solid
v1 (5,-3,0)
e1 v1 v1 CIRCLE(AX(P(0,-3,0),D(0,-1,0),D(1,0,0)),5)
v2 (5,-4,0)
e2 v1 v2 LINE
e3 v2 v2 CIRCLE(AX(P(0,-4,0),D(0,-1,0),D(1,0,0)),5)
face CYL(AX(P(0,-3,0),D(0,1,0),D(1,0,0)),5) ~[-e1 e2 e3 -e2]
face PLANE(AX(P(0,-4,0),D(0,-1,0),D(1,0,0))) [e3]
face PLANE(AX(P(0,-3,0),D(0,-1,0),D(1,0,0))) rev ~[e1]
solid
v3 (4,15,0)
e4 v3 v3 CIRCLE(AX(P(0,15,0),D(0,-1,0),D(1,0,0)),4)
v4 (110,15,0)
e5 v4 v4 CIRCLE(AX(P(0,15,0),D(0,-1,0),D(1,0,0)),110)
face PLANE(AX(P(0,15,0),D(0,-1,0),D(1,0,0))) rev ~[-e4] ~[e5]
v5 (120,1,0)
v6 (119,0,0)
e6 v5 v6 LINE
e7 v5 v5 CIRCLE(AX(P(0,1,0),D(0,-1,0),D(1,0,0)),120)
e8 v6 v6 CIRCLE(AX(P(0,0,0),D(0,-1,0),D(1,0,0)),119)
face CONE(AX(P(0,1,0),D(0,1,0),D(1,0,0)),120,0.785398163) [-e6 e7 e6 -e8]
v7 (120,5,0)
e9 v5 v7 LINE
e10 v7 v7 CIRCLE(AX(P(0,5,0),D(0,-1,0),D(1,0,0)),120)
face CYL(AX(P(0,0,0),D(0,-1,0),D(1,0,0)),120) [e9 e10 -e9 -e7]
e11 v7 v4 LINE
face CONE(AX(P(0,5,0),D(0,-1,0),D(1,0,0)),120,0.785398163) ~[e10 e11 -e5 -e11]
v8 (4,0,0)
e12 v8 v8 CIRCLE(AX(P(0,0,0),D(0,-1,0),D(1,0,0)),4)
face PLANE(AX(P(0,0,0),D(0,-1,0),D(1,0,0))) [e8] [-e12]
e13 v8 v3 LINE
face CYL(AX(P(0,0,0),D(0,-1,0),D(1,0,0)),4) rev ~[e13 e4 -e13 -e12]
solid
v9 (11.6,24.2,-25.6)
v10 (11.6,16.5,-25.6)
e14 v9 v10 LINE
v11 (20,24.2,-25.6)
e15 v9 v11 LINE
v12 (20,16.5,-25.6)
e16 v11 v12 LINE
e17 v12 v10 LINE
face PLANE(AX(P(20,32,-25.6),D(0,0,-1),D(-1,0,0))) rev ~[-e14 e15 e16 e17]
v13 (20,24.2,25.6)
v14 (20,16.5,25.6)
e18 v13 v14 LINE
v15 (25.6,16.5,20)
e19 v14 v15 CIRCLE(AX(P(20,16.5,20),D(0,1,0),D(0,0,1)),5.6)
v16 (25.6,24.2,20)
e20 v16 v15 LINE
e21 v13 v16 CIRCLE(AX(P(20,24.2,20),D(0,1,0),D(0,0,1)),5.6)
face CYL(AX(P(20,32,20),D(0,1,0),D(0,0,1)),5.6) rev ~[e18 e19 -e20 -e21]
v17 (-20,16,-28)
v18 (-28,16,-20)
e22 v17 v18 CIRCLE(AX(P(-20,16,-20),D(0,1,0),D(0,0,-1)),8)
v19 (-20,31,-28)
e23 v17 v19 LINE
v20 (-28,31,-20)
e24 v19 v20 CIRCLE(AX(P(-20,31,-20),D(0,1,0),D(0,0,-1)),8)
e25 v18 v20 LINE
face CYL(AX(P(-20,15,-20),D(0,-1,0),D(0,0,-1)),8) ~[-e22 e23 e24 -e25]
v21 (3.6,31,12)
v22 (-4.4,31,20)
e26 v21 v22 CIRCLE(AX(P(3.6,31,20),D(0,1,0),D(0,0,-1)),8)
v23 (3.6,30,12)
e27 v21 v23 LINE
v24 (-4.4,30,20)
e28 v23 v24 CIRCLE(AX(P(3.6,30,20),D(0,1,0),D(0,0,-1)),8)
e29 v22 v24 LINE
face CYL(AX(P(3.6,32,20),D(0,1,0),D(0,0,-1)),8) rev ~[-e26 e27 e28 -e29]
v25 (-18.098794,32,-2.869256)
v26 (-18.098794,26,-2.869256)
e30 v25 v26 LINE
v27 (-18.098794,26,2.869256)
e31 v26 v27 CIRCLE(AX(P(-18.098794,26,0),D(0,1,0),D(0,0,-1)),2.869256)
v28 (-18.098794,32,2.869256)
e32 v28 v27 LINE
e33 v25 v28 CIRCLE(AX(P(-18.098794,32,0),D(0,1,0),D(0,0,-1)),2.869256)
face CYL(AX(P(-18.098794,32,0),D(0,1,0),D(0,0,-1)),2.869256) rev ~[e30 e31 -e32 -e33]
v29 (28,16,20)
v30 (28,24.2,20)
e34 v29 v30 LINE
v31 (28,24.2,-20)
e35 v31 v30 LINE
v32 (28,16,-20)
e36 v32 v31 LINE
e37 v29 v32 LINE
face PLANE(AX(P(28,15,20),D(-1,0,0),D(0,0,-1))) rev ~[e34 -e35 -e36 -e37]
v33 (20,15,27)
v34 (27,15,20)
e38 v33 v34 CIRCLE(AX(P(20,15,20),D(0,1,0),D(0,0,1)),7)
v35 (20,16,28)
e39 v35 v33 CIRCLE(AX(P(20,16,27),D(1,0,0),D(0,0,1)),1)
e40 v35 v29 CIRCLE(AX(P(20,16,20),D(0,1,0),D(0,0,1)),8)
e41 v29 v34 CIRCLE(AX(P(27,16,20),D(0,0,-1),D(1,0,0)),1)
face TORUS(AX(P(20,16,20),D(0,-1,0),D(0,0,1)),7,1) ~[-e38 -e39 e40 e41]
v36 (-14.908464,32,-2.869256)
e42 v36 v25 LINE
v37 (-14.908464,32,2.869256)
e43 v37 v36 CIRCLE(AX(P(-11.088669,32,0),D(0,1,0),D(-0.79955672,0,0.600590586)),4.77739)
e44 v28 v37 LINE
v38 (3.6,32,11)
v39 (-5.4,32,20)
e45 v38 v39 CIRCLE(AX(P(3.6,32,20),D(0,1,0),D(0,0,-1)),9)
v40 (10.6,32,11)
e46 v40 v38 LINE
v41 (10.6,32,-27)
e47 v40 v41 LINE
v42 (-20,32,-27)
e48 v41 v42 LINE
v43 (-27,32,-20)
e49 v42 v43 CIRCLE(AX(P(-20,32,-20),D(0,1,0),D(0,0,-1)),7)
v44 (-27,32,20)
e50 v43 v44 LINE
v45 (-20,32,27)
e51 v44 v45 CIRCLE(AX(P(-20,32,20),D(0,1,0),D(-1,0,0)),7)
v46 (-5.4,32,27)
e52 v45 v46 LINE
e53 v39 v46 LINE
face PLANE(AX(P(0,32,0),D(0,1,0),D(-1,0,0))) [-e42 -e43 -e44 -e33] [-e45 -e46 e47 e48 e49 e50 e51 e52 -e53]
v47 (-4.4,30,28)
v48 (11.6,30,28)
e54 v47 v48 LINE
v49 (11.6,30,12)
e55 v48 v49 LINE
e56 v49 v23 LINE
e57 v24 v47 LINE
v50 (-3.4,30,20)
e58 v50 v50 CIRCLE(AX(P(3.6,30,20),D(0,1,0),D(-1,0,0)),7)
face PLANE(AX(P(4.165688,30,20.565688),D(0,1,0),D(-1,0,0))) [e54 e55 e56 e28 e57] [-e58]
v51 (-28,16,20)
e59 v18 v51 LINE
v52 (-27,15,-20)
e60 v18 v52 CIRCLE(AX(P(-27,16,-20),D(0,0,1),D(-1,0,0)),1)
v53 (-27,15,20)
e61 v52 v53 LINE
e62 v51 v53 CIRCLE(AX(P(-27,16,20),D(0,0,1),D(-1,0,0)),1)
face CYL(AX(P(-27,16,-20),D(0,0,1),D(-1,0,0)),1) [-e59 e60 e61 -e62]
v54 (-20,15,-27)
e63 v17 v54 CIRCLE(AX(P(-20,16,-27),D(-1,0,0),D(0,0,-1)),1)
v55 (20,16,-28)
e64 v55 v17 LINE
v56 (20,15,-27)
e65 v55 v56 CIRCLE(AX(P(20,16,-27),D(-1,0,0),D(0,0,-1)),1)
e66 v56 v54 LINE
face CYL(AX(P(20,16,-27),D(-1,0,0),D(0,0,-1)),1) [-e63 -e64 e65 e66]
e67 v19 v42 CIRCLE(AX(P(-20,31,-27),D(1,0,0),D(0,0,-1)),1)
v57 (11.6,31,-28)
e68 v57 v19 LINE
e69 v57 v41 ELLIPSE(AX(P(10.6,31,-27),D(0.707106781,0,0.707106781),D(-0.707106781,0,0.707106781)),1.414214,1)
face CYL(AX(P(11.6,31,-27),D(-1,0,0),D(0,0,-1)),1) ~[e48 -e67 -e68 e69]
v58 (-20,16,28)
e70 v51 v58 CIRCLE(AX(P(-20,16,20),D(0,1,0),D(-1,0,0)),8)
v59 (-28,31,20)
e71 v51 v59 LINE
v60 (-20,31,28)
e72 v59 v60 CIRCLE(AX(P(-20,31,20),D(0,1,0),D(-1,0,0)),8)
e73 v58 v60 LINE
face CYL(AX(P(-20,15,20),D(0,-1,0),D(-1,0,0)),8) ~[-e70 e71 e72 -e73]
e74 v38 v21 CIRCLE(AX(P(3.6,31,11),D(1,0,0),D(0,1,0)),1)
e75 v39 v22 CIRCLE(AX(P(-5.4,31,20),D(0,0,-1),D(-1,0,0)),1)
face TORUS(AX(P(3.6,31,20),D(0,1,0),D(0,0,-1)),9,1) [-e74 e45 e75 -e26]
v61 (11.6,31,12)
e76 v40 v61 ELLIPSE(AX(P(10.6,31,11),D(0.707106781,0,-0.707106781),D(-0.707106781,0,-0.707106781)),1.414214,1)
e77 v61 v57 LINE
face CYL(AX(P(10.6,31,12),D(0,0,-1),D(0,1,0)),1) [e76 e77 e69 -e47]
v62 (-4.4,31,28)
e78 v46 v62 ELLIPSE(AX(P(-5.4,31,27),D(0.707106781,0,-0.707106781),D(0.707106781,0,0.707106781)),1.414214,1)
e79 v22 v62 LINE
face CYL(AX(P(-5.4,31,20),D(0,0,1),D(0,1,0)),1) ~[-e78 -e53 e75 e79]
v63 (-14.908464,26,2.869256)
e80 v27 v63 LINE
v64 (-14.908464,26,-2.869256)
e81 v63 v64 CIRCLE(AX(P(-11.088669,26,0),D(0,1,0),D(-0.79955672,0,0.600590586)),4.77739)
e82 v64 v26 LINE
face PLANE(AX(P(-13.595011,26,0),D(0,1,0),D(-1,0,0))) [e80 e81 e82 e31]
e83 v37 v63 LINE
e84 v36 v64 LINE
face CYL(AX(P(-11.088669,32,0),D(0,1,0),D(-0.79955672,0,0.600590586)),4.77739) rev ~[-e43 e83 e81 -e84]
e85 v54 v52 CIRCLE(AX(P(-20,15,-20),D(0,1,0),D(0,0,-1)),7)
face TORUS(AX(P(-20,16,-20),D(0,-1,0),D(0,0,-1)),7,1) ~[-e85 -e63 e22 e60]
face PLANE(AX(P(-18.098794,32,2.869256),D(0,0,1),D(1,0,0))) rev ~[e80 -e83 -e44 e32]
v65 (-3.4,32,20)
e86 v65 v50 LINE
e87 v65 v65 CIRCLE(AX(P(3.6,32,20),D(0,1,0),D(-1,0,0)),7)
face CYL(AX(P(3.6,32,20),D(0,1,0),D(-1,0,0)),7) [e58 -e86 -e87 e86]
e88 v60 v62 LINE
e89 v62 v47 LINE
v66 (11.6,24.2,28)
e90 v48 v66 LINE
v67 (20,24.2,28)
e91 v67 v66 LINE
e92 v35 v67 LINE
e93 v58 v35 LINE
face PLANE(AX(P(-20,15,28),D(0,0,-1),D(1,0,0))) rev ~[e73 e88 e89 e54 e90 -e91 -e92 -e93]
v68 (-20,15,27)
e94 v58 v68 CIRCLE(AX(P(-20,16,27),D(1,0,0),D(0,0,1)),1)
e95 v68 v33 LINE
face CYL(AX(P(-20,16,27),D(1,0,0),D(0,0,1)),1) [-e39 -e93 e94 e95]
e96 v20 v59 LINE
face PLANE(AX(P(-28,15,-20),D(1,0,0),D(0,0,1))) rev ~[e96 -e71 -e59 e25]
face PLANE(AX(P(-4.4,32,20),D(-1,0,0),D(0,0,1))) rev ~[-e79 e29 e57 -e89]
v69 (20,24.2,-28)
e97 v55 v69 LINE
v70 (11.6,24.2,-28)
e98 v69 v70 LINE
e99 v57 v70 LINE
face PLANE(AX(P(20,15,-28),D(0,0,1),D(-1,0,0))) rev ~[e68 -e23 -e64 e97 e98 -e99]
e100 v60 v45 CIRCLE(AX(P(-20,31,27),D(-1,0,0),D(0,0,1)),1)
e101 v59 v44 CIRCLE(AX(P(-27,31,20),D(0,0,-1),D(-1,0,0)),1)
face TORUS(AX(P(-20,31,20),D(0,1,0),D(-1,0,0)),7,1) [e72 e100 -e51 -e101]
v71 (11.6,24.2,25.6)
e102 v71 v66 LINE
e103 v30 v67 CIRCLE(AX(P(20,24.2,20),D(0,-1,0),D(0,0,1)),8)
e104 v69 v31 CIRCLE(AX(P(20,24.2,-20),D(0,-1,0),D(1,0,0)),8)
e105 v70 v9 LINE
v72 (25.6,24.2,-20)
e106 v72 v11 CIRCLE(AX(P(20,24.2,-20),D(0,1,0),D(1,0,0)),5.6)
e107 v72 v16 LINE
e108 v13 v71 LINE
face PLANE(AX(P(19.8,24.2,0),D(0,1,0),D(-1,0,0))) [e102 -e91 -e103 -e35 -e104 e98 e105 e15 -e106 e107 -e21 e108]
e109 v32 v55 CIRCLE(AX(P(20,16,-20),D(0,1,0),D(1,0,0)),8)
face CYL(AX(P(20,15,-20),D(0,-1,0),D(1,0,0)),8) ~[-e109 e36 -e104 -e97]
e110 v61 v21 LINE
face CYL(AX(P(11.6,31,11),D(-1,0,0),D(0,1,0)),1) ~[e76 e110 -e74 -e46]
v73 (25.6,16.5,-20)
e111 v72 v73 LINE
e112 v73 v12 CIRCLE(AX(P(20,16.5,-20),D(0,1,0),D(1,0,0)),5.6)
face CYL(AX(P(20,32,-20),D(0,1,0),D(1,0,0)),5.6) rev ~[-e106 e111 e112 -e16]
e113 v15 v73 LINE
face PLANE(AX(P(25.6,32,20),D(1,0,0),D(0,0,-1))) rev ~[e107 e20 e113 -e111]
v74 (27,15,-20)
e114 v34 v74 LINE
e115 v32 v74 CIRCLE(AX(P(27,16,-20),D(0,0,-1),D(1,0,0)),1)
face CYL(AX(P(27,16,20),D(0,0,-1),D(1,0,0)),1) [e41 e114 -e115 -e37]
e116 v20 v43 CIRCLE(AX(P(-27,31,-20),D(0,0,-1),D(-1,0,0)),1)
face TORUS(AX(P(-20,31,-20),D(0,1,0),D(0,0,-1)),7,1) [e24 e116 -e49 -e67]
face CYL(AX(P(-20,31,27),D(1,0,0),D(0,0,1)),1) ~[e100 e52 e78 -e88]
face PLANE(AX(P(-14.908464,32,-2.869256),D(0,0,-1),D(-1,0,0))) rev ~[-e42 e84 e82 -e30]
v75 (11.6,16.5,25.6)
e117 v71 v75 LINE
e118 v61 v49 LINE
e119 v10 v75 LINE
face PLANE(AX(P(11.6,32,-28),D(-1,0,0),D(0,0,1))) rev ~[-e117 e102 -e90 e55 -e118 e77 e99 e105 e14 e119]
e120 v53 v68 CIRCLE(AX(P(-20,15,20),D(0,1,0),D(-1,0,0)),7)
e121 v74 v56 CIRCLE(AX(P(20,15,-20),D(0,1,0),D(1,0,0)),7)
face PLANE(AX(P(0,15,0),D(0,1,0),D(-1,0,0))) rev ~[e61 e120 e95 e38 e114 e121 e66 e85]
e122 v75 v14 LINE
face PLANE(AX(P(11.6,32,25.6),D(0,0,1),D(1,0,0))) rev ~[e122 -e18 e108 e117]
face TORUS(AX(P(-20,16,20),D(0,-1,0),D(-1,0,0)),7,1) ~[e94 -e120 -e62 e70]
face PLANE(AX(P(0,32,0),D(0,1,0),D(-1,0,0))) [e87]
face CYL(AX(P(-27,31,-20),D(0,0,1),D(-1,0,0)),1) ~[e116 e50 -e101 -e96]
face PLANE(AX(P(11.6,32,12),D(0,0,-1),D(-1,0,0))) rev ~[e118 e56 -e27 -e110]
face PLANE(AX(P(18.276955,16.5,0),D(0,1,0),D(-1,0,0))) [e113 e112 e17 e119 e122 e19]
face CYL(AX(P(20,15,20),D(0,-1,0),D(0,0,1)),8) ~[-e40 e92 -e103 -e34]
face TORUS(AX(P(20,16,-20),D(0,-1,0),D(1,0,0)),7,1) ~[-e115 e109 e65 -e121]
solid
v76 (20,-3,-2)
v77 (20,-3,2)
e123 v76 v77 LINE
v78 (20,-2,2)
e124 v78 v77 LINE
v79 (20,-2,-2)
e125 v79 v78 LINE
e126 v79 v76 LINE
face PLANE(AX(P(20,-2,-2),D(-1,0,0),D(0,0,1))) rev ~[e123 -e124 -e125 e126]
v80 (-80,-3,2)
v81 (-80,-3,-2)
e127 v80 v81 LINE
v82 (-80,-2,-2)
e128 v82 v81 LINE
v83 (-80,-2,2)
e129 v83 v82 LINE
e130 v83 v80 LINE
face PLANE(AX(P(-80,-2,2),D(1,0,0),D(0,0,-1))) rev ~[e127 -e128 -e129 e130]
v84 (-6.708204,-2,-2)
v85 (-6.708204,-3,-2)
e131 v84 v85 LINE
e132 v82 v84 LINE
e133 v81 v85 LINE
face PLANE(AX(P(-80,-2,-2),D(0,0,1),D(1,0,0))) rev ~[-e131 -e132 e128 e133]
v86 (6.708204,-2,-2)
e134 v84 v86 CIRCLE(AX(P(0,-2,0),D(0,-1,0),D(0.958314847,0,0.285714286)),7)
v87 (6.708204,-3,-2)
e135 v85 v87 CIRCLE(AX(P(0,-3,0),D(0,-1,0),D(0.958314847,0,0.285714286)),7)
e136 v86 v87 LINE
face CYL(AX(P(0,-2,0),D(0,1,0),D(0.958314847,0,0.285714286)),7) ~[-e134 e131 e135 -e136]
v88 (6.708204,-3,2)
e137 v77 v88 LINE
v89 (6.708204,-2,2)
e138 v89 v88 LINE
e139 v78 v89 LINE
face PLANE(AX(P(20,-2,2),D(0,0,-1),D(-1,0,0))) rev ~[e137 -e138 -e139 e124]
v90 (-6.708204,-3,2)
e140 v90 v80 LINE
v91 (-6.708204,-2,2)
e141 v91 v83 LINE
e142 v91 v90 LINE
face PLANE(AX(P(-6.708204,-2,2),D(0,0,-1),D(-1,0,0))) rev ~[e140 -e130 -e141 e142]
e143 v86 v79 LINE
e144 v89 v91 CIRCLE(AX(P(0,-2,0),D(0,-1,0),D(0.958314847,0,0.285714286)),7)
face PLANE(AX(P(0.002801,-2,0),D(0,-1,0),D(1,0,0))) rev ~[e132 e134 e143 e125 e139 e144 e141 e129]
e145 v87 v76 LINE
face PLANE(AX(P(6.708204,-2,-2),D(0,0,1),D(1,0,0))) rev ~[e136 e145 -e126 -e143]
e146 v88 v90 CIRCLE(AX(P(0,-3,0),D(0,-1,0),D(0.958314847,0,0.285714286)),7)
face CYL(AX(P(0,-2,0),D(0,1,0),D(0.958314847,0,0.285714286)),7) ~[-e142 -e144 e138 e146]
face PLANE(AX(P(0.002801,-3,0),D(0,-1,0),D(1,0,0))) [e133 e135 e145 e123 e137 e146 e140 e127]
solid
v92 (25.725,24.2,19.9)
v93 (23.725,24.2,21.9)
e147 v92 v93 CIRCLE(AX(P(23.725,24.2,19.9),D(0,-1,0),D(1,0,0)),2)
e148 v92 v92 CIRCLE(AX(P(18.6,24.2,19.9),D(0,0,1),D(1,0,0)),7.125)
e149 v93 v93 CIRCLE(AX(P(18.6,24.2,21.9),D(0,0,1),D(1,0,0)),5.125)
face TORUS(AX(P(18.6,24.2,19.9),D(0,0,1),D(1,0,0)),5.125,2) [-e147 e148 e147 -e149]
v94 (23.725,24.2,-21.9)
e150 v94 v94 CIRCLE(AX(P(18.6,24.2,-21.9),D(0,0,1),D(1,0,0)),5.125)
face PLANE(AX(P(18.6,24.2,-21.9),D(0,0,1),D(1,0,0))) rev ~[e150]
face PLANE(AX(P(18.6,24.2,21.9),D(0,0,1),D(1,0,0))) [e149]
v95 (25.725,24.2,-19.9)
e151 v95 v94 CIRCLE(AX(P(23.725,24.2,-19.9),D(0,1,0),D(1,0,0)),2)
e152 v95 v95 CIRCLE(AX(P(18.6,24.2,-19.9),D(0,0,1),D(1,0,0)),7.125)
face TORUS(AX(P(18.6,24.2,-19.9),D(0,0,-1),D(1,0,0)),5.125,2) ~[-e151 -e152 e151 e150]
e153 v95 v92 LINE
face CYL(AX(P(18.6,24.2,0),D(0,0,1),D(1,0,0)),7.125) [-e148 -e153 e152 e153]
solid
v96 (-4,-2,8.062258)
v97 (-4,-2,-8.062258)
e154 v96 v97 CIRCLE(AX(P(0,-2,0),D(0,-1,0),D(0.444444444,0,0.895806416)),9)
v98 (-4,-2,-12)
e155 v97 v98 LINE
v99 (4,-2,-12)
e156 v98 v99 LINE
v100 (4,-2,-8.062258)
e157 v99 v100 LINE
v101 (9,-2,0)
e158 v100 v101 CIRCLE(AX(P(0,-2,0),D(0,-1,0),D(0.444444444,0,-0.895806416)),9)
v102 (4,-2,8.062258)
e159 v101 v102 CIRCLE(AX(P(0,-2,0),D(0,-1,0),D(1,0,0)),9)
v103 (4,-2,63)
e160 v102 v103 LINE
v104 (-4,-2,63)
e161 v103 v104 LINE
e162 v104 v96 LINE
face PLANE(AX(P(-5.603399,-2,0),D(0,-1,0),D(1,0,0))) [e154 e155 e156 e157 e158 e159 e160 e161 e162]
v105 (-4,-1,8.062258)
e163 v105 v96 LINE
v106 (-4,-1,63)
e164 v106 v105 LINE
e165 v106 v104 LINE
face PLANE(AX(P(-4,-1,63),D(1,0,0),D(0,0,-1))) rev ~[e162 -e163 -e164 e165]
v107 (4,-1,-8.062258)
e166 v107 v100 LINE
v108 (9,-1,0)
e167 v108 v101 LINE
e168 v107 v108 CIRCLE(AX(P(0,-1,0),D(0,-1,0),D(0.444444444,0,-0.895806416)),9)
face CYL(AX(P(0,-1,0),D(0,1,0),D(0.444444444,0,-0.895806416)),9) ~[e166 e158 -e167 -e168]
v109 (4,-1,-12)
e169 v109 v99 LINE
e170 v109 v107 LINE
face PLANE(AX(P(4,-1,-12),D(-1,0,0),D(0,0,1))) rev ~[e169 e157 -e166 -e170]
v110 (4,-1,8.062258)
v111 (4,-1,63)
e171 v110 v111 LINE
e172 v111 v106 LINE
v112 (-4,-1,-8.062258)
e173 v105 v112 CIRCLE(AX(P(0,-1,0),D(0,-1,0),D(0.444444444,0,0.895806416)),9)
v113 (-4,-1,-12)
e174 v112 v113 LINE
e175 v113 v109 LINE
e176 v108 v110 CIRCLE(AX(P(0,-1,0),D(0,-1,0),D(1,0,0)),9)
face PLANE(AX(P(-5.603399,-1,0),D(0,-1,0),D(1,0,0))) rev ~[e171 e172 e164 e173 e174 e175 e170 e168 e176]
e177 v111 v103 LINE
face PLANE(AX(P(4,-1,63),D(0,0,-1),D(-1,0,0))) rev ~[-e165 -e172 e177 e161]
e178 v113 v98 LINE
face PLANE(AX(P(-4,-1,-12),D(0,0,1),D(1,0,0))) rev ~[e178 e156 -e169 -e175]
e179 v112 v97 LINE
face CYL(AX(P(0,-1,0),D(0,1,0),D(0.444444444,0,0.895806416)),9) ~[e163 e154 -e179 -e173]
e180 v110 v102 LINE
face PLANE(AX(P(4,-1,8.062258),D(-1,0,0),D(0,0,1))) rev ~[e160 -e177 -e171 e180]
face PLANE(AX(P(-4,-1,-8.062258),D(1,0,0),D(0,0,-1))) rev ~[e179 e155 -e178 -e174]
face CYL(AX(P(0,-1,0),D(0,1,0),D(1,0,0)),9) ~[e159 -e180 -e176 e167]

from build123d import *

# Parameters (mm, degrees)
F0_R      = 120
F1_DEPTH  = 15
F2_R      = 2.5
F3_DEPTH  = 15
F5_DEPTH  = 17
F7_DEPTH  = 15.5
F8_W      = 16.4
F8_H      = 56
F9_DEPTH  = 7.8
F10_R     = 7
F11_DEPTH = 2
F12_R     = 1
F13_R     = 7.125
F14_DEPTH = 21.9
F15_R     = 2
F16_R     = 4
F17_DEPTH = 15
F19_START = 1
F19_DEPTH = 1
F21_DEPTH = 1
F22_R     = 5
F23_DEPTH = 1
F24_SIZE  = 1
F25_SIZE  = 10
F27_DEPTH = 6


with BuildPart() as f1:
    # F0 (on Front) → F1 (new body)
    with BuildSketch(Plane.XZ):
        Circle(F0_R)
    extrude(amount=-F1_DEPTH)

    # F2 (on face) → F3 (cut, through all)
    with BuildSketch(Plane(origin=(0, 15, 0), x_dir=(-1, 0, 0), z_dir=(0, 1, 0))):
        Circle(F2_R)
    extrude(amount=-F3_DEPTH, mode=Mode.SUBTRACT)

    # F16 (on face) → F17 (cut, through all)
    with BuildSketch(Plane.XZ):
        Circle(F16_R)
    extrude(amount=-F17_DEPTH, mode=Mode.SUBTRACT)

    # F24
    f24_edges = [f1.edges().sort_by_distance(p)[0] for p in [
        (-120, 0, 0),
    ]]
    chamfer(f24_edges, length=F24_SIZE)

    # F25
    f25_edges = [f1.edges().sort_by_distance(p)[0] for p in [
        (-120, 15, 0),
    ]]
    chamfer(f25_edges, length=F25_SIZE)


with BuildPart() as f5:
    # F4 (on face) → F5 (new body)
    with BuildSketch(Plane(origin=(0, 15, 0), x_dir=(-1, 0, 0), z_dir=(0, 1, 0))):
        with BuildLine():
            ThreePointArc((-28, -20), (-25.6568542495, -25.6568542495), (-20, -28))
            Line((-20, -28), (20, -28))
            ThreePointArc((20, -28), (25.6568542495, -25.6568542495), (28, -20))
            Line((28, -20), (28, 20))
            ThreePointArc((28, 20), (25.6568542495, 25.6568542495), (20, 28))
            Line((20, 28), (-20, 28))
            ThreePointArc((-20, 28), (-25.6568542495, 25.6568542495), (-28, 20))
            Line((-28, 20), (-28, -20))
        make_face()
    extrude(amount=F5_DEPTH)

    # F6 (on face) → F7 (cut)
    with BuildSketch(Plane(origin=(0, 32, 0), x_dir=(-1, 0, 0), z_dir=(0, 1, 0))):
        with BuildLine():
            Line((-25.6, 20), (-25.6, -20))
            ThreePointArc((-25.6, -20), (-23.9597979746, -23.9597979746), (-20, -25.6))
            Line((-20, -25.6), (-11.6, -25.6))
            Line((-11.6, -25.6), (-11.6, 25.6))
            Line((-11.6, 25.6), (-20, 25.6))
            ThreePointArc((-20, 25.6), (-23.9597979746, 23.9597979746), (-25.6, 20))
        make_face()
    extrude(amount=-F7_DEPTH, mode=Mode.SUBTRACT)

    # F8 (on face) → F9 (cut)
    with BuildSketch(Plane(origin=(0, 32, 0), x_dir=(-1, 0, 0), z_dir=(0, 1, 0))):
        with Locations((-19.8, 0)):
            Rectangle(F8_W, F8_H)
    extrude(amount=-F9_DEPTH, mode=Mode.SUBTRACT)

    # F10 (on face) → F11 (cut)
    with BuildSketch(Plane(origin=(0, 32, 0), x_dir=(-1, 0, 0), z_dir=(0, 1, 0))):
        with BuildLine():
            Line((-11.6, 28), (-11.6, 12))
            Line((-11.6, 12), (-3.6, 12))
            ThreePointArc((-3.6, 12), (2.0568542495, 14.3431457505), (4.4, 20))
            Line((4.4, 20), (4.4, 28))
            Line((4.4, 28), (-11.6, 28))
        make_face()
        with Locations((-3.6, 20)):
            Circle(F10_R, mode=Mode.SUBTRACT)
    extrude(amount=-F11_DEPTH, mode=Mode.SUBTRACT)

    # F12
    f12_edges = [f5.edges().sort_by_distance(p)[0] for p in [
        (7.6, 32, 12),
        (-2.056854, 32, 14.343146),
        (-4.4, 32, 24),
        (-12.2, 32, 28),
        (-25.656854, 32, 25.656854),
        (-28, 32, 0),
        (-25.656854, 32, -25.656854),
        (-4.2, 32, -28),
        (11.6, 32, -8),
        (25.656854, 15, -25.656854),
        (0, 15, -28),
        (-25.656854, 15, -25.656854),
        (-28, 15, 0),
        (-25.656854, 15, 25.656854),
        (0, 15, 28),
        (25.656854, 15, 25.656854),
        (28, 15, 0),
    ]]
    fillet(f12_edges, radius=F12_R)

    # F26 (on face) → F27 (cut)
    with BuildSketch(Plane(origin=(0, 32, 0), x_dir=(-1, 0, 0), z_dir=(0, 1, 0))):
        with BuildLine():
            Line((14.908463777, -2.8692556116), (18.0987944834, -2.8692556116))
            ThreePointArc((18.0987944834, -2.8692556116), (20.968050095, 0), (18.0987944834, 2.8692556116))
            Line((18.0987944834, 2.8692556116), (14.908463777, 2.8692556116))
            ThreePointArc((14.908463777, 2.8692556116), (6.3112790491, 0), (14.908463777, -2.8692556116))
        make_face()
    extrude(amount=-F27_DEPTH, mode=Mode.SUBTRACT)


with BuildPart() as f14:
    # F13 (on Top) → F14 (new body, symmetric)
    with BuildSketch(Plane.XY):
        with Locations((18.6, 24.2)):
            Circle(F13_R)
    extrude(amount=F14_DEPTH, both=True)

    # F15
    f15_edges = [f14.edges().sort_by_distance(p)[0] for p in [
        (11.475, 24.2, -21.9),
        (11.475, 24.2, 21.9),
    ]]
    fillet(f15_edges, radius=F15_R)


with BuildPart() as f19:
    # F18 (on face) → F19 (new body)
    with BuildSketch(Plane.XZ.offset(F19_START)):
        with BuildLine():
            Line((-4, -8.0622577483), (-4, -8))
            Line((-4, -8), (-4, 8.0622577483))
            ThreePointArc((-4, 8.0622577483), (-9, 0), (-4, -8.0622577483))
        make_face()
        with BuildLine():
            Line((-4, 8.0622577483), (-4, -8))
            Line((-4, -8), (-4, -8.0622577483))
            ThreePointArc((-4, -8.0622577483), (0, -9), (4, -8.0622577483))
            Line((4, -8.0622577483), (4, -8))
            Line((4, -8), (4, 8.0622577483))
            ThreePointArc((4, 8.0622577483), (0, 9), (-4, 8.0622577483))
        make_face()
        with BuildLine():
            Line((-4, 59), (-4, 8.0622577483))
            ThreePointArc((-4, 8.0622577483), (0, 9), (4, 8.0622577483))
            Line((4, 8.0622577483), (4, 59))
            Line((4, 59), (4, 63))
            Line((4, 63), (-4, 63))
            Line((-4, 63), (-4, 59))
        make_face()
        with BuildLine():
            ThreePointArc((4, -8.0622577483), (0, -9), (-4, -8.0622577483))
            Line((-4, -8.0622577483), (-4, -12))
            Line((-4, -12), (4, -12))
            Line((4, -12), (4, -8.0622577483))
        make_face()
        with BuildLine():
            ThreePointArc((9, 0), (7.6485292704, 4.7434164903), (4, 8.0622577483))
            Line((4, 8.0622577483), (4, -8))
            Line((4, -8), (4, -8.0622577483))
            ThreePointArc((4, -8.0622577483), (7.6485292704, -4.7434164903), (9, 0))
        make_face()
    extrude(amount=F19_DEPTH)


with BuildPart() as f21:
    # F20 (on face) → F21 (new body)
    with BuildSketch(Plane.XZ.offset(2)):
        with BuildLine():
            ThreePointArc((6.7082039325, -2), (6.9266668581, -1.010587075), (7, 0))
            ThreePointArc((7, 0), (6.9266668581, 1.010587075), (6.7082039325, 2))
            Line((6.7082039325, 2), (-6.7082039325, 2))
            ThreePointArc((-6.7082039325, 2), (-7, 0), (-6.7082039325, -2))
            Line((-6.7082039325, -2), (6.7082039325, -2))
        make_face()
        with BuildLine():
            ThreePointArc((6.7082039325, 2), (6.9266668581, 1.010587075), (7, 0))
            ThreePointArc((7, 0), (6.9266668581, -1.010587075), (6.7082039325, -2))
            Line((6.7082039325, -2), (20, -2))
            Line((20, -2), (20, 2))
            Line((20, 2), (6.7082039325, 2))
        make_face()
        with BuildLine():
            Line((-6.7082039325, 2), (6.7082039325, 2))
            ThreePointArc((6.7082039325, 2), (0, 7), (-6.7082039325, 2))
        make_face()
        with BuildLine():
            ThreePointArc((-6.7082039325, -2), (0, -7), (6.7082039325, -2))
            Line((6.7082039325, -2), (-6.7082039325, -2))
        make_face()
        with BuildLine():
            ThreePointArc((-6.7082039325, -2), (-7, 0), (-6.7082039325, 2))
            Line((-6.7082039325, 2), (-80, 2))
            Line((-80, 2), (-80, -2))
            Line((-80, -2), (-6.7082039325, -2))
        make_face()
    extrude(amount=F21_DEPTH)


with BuildPart() as f23:
    # F22 (on face) → F23 (new body)
    with BuildSketch(Plane.XZ.offset(3)):
        Circle(F22_R)
    extrude(amount=F23_DEPTH)


solid = Compound([f1.part, f5.part, f14.part, f19.part, f21.part, f23.part])
